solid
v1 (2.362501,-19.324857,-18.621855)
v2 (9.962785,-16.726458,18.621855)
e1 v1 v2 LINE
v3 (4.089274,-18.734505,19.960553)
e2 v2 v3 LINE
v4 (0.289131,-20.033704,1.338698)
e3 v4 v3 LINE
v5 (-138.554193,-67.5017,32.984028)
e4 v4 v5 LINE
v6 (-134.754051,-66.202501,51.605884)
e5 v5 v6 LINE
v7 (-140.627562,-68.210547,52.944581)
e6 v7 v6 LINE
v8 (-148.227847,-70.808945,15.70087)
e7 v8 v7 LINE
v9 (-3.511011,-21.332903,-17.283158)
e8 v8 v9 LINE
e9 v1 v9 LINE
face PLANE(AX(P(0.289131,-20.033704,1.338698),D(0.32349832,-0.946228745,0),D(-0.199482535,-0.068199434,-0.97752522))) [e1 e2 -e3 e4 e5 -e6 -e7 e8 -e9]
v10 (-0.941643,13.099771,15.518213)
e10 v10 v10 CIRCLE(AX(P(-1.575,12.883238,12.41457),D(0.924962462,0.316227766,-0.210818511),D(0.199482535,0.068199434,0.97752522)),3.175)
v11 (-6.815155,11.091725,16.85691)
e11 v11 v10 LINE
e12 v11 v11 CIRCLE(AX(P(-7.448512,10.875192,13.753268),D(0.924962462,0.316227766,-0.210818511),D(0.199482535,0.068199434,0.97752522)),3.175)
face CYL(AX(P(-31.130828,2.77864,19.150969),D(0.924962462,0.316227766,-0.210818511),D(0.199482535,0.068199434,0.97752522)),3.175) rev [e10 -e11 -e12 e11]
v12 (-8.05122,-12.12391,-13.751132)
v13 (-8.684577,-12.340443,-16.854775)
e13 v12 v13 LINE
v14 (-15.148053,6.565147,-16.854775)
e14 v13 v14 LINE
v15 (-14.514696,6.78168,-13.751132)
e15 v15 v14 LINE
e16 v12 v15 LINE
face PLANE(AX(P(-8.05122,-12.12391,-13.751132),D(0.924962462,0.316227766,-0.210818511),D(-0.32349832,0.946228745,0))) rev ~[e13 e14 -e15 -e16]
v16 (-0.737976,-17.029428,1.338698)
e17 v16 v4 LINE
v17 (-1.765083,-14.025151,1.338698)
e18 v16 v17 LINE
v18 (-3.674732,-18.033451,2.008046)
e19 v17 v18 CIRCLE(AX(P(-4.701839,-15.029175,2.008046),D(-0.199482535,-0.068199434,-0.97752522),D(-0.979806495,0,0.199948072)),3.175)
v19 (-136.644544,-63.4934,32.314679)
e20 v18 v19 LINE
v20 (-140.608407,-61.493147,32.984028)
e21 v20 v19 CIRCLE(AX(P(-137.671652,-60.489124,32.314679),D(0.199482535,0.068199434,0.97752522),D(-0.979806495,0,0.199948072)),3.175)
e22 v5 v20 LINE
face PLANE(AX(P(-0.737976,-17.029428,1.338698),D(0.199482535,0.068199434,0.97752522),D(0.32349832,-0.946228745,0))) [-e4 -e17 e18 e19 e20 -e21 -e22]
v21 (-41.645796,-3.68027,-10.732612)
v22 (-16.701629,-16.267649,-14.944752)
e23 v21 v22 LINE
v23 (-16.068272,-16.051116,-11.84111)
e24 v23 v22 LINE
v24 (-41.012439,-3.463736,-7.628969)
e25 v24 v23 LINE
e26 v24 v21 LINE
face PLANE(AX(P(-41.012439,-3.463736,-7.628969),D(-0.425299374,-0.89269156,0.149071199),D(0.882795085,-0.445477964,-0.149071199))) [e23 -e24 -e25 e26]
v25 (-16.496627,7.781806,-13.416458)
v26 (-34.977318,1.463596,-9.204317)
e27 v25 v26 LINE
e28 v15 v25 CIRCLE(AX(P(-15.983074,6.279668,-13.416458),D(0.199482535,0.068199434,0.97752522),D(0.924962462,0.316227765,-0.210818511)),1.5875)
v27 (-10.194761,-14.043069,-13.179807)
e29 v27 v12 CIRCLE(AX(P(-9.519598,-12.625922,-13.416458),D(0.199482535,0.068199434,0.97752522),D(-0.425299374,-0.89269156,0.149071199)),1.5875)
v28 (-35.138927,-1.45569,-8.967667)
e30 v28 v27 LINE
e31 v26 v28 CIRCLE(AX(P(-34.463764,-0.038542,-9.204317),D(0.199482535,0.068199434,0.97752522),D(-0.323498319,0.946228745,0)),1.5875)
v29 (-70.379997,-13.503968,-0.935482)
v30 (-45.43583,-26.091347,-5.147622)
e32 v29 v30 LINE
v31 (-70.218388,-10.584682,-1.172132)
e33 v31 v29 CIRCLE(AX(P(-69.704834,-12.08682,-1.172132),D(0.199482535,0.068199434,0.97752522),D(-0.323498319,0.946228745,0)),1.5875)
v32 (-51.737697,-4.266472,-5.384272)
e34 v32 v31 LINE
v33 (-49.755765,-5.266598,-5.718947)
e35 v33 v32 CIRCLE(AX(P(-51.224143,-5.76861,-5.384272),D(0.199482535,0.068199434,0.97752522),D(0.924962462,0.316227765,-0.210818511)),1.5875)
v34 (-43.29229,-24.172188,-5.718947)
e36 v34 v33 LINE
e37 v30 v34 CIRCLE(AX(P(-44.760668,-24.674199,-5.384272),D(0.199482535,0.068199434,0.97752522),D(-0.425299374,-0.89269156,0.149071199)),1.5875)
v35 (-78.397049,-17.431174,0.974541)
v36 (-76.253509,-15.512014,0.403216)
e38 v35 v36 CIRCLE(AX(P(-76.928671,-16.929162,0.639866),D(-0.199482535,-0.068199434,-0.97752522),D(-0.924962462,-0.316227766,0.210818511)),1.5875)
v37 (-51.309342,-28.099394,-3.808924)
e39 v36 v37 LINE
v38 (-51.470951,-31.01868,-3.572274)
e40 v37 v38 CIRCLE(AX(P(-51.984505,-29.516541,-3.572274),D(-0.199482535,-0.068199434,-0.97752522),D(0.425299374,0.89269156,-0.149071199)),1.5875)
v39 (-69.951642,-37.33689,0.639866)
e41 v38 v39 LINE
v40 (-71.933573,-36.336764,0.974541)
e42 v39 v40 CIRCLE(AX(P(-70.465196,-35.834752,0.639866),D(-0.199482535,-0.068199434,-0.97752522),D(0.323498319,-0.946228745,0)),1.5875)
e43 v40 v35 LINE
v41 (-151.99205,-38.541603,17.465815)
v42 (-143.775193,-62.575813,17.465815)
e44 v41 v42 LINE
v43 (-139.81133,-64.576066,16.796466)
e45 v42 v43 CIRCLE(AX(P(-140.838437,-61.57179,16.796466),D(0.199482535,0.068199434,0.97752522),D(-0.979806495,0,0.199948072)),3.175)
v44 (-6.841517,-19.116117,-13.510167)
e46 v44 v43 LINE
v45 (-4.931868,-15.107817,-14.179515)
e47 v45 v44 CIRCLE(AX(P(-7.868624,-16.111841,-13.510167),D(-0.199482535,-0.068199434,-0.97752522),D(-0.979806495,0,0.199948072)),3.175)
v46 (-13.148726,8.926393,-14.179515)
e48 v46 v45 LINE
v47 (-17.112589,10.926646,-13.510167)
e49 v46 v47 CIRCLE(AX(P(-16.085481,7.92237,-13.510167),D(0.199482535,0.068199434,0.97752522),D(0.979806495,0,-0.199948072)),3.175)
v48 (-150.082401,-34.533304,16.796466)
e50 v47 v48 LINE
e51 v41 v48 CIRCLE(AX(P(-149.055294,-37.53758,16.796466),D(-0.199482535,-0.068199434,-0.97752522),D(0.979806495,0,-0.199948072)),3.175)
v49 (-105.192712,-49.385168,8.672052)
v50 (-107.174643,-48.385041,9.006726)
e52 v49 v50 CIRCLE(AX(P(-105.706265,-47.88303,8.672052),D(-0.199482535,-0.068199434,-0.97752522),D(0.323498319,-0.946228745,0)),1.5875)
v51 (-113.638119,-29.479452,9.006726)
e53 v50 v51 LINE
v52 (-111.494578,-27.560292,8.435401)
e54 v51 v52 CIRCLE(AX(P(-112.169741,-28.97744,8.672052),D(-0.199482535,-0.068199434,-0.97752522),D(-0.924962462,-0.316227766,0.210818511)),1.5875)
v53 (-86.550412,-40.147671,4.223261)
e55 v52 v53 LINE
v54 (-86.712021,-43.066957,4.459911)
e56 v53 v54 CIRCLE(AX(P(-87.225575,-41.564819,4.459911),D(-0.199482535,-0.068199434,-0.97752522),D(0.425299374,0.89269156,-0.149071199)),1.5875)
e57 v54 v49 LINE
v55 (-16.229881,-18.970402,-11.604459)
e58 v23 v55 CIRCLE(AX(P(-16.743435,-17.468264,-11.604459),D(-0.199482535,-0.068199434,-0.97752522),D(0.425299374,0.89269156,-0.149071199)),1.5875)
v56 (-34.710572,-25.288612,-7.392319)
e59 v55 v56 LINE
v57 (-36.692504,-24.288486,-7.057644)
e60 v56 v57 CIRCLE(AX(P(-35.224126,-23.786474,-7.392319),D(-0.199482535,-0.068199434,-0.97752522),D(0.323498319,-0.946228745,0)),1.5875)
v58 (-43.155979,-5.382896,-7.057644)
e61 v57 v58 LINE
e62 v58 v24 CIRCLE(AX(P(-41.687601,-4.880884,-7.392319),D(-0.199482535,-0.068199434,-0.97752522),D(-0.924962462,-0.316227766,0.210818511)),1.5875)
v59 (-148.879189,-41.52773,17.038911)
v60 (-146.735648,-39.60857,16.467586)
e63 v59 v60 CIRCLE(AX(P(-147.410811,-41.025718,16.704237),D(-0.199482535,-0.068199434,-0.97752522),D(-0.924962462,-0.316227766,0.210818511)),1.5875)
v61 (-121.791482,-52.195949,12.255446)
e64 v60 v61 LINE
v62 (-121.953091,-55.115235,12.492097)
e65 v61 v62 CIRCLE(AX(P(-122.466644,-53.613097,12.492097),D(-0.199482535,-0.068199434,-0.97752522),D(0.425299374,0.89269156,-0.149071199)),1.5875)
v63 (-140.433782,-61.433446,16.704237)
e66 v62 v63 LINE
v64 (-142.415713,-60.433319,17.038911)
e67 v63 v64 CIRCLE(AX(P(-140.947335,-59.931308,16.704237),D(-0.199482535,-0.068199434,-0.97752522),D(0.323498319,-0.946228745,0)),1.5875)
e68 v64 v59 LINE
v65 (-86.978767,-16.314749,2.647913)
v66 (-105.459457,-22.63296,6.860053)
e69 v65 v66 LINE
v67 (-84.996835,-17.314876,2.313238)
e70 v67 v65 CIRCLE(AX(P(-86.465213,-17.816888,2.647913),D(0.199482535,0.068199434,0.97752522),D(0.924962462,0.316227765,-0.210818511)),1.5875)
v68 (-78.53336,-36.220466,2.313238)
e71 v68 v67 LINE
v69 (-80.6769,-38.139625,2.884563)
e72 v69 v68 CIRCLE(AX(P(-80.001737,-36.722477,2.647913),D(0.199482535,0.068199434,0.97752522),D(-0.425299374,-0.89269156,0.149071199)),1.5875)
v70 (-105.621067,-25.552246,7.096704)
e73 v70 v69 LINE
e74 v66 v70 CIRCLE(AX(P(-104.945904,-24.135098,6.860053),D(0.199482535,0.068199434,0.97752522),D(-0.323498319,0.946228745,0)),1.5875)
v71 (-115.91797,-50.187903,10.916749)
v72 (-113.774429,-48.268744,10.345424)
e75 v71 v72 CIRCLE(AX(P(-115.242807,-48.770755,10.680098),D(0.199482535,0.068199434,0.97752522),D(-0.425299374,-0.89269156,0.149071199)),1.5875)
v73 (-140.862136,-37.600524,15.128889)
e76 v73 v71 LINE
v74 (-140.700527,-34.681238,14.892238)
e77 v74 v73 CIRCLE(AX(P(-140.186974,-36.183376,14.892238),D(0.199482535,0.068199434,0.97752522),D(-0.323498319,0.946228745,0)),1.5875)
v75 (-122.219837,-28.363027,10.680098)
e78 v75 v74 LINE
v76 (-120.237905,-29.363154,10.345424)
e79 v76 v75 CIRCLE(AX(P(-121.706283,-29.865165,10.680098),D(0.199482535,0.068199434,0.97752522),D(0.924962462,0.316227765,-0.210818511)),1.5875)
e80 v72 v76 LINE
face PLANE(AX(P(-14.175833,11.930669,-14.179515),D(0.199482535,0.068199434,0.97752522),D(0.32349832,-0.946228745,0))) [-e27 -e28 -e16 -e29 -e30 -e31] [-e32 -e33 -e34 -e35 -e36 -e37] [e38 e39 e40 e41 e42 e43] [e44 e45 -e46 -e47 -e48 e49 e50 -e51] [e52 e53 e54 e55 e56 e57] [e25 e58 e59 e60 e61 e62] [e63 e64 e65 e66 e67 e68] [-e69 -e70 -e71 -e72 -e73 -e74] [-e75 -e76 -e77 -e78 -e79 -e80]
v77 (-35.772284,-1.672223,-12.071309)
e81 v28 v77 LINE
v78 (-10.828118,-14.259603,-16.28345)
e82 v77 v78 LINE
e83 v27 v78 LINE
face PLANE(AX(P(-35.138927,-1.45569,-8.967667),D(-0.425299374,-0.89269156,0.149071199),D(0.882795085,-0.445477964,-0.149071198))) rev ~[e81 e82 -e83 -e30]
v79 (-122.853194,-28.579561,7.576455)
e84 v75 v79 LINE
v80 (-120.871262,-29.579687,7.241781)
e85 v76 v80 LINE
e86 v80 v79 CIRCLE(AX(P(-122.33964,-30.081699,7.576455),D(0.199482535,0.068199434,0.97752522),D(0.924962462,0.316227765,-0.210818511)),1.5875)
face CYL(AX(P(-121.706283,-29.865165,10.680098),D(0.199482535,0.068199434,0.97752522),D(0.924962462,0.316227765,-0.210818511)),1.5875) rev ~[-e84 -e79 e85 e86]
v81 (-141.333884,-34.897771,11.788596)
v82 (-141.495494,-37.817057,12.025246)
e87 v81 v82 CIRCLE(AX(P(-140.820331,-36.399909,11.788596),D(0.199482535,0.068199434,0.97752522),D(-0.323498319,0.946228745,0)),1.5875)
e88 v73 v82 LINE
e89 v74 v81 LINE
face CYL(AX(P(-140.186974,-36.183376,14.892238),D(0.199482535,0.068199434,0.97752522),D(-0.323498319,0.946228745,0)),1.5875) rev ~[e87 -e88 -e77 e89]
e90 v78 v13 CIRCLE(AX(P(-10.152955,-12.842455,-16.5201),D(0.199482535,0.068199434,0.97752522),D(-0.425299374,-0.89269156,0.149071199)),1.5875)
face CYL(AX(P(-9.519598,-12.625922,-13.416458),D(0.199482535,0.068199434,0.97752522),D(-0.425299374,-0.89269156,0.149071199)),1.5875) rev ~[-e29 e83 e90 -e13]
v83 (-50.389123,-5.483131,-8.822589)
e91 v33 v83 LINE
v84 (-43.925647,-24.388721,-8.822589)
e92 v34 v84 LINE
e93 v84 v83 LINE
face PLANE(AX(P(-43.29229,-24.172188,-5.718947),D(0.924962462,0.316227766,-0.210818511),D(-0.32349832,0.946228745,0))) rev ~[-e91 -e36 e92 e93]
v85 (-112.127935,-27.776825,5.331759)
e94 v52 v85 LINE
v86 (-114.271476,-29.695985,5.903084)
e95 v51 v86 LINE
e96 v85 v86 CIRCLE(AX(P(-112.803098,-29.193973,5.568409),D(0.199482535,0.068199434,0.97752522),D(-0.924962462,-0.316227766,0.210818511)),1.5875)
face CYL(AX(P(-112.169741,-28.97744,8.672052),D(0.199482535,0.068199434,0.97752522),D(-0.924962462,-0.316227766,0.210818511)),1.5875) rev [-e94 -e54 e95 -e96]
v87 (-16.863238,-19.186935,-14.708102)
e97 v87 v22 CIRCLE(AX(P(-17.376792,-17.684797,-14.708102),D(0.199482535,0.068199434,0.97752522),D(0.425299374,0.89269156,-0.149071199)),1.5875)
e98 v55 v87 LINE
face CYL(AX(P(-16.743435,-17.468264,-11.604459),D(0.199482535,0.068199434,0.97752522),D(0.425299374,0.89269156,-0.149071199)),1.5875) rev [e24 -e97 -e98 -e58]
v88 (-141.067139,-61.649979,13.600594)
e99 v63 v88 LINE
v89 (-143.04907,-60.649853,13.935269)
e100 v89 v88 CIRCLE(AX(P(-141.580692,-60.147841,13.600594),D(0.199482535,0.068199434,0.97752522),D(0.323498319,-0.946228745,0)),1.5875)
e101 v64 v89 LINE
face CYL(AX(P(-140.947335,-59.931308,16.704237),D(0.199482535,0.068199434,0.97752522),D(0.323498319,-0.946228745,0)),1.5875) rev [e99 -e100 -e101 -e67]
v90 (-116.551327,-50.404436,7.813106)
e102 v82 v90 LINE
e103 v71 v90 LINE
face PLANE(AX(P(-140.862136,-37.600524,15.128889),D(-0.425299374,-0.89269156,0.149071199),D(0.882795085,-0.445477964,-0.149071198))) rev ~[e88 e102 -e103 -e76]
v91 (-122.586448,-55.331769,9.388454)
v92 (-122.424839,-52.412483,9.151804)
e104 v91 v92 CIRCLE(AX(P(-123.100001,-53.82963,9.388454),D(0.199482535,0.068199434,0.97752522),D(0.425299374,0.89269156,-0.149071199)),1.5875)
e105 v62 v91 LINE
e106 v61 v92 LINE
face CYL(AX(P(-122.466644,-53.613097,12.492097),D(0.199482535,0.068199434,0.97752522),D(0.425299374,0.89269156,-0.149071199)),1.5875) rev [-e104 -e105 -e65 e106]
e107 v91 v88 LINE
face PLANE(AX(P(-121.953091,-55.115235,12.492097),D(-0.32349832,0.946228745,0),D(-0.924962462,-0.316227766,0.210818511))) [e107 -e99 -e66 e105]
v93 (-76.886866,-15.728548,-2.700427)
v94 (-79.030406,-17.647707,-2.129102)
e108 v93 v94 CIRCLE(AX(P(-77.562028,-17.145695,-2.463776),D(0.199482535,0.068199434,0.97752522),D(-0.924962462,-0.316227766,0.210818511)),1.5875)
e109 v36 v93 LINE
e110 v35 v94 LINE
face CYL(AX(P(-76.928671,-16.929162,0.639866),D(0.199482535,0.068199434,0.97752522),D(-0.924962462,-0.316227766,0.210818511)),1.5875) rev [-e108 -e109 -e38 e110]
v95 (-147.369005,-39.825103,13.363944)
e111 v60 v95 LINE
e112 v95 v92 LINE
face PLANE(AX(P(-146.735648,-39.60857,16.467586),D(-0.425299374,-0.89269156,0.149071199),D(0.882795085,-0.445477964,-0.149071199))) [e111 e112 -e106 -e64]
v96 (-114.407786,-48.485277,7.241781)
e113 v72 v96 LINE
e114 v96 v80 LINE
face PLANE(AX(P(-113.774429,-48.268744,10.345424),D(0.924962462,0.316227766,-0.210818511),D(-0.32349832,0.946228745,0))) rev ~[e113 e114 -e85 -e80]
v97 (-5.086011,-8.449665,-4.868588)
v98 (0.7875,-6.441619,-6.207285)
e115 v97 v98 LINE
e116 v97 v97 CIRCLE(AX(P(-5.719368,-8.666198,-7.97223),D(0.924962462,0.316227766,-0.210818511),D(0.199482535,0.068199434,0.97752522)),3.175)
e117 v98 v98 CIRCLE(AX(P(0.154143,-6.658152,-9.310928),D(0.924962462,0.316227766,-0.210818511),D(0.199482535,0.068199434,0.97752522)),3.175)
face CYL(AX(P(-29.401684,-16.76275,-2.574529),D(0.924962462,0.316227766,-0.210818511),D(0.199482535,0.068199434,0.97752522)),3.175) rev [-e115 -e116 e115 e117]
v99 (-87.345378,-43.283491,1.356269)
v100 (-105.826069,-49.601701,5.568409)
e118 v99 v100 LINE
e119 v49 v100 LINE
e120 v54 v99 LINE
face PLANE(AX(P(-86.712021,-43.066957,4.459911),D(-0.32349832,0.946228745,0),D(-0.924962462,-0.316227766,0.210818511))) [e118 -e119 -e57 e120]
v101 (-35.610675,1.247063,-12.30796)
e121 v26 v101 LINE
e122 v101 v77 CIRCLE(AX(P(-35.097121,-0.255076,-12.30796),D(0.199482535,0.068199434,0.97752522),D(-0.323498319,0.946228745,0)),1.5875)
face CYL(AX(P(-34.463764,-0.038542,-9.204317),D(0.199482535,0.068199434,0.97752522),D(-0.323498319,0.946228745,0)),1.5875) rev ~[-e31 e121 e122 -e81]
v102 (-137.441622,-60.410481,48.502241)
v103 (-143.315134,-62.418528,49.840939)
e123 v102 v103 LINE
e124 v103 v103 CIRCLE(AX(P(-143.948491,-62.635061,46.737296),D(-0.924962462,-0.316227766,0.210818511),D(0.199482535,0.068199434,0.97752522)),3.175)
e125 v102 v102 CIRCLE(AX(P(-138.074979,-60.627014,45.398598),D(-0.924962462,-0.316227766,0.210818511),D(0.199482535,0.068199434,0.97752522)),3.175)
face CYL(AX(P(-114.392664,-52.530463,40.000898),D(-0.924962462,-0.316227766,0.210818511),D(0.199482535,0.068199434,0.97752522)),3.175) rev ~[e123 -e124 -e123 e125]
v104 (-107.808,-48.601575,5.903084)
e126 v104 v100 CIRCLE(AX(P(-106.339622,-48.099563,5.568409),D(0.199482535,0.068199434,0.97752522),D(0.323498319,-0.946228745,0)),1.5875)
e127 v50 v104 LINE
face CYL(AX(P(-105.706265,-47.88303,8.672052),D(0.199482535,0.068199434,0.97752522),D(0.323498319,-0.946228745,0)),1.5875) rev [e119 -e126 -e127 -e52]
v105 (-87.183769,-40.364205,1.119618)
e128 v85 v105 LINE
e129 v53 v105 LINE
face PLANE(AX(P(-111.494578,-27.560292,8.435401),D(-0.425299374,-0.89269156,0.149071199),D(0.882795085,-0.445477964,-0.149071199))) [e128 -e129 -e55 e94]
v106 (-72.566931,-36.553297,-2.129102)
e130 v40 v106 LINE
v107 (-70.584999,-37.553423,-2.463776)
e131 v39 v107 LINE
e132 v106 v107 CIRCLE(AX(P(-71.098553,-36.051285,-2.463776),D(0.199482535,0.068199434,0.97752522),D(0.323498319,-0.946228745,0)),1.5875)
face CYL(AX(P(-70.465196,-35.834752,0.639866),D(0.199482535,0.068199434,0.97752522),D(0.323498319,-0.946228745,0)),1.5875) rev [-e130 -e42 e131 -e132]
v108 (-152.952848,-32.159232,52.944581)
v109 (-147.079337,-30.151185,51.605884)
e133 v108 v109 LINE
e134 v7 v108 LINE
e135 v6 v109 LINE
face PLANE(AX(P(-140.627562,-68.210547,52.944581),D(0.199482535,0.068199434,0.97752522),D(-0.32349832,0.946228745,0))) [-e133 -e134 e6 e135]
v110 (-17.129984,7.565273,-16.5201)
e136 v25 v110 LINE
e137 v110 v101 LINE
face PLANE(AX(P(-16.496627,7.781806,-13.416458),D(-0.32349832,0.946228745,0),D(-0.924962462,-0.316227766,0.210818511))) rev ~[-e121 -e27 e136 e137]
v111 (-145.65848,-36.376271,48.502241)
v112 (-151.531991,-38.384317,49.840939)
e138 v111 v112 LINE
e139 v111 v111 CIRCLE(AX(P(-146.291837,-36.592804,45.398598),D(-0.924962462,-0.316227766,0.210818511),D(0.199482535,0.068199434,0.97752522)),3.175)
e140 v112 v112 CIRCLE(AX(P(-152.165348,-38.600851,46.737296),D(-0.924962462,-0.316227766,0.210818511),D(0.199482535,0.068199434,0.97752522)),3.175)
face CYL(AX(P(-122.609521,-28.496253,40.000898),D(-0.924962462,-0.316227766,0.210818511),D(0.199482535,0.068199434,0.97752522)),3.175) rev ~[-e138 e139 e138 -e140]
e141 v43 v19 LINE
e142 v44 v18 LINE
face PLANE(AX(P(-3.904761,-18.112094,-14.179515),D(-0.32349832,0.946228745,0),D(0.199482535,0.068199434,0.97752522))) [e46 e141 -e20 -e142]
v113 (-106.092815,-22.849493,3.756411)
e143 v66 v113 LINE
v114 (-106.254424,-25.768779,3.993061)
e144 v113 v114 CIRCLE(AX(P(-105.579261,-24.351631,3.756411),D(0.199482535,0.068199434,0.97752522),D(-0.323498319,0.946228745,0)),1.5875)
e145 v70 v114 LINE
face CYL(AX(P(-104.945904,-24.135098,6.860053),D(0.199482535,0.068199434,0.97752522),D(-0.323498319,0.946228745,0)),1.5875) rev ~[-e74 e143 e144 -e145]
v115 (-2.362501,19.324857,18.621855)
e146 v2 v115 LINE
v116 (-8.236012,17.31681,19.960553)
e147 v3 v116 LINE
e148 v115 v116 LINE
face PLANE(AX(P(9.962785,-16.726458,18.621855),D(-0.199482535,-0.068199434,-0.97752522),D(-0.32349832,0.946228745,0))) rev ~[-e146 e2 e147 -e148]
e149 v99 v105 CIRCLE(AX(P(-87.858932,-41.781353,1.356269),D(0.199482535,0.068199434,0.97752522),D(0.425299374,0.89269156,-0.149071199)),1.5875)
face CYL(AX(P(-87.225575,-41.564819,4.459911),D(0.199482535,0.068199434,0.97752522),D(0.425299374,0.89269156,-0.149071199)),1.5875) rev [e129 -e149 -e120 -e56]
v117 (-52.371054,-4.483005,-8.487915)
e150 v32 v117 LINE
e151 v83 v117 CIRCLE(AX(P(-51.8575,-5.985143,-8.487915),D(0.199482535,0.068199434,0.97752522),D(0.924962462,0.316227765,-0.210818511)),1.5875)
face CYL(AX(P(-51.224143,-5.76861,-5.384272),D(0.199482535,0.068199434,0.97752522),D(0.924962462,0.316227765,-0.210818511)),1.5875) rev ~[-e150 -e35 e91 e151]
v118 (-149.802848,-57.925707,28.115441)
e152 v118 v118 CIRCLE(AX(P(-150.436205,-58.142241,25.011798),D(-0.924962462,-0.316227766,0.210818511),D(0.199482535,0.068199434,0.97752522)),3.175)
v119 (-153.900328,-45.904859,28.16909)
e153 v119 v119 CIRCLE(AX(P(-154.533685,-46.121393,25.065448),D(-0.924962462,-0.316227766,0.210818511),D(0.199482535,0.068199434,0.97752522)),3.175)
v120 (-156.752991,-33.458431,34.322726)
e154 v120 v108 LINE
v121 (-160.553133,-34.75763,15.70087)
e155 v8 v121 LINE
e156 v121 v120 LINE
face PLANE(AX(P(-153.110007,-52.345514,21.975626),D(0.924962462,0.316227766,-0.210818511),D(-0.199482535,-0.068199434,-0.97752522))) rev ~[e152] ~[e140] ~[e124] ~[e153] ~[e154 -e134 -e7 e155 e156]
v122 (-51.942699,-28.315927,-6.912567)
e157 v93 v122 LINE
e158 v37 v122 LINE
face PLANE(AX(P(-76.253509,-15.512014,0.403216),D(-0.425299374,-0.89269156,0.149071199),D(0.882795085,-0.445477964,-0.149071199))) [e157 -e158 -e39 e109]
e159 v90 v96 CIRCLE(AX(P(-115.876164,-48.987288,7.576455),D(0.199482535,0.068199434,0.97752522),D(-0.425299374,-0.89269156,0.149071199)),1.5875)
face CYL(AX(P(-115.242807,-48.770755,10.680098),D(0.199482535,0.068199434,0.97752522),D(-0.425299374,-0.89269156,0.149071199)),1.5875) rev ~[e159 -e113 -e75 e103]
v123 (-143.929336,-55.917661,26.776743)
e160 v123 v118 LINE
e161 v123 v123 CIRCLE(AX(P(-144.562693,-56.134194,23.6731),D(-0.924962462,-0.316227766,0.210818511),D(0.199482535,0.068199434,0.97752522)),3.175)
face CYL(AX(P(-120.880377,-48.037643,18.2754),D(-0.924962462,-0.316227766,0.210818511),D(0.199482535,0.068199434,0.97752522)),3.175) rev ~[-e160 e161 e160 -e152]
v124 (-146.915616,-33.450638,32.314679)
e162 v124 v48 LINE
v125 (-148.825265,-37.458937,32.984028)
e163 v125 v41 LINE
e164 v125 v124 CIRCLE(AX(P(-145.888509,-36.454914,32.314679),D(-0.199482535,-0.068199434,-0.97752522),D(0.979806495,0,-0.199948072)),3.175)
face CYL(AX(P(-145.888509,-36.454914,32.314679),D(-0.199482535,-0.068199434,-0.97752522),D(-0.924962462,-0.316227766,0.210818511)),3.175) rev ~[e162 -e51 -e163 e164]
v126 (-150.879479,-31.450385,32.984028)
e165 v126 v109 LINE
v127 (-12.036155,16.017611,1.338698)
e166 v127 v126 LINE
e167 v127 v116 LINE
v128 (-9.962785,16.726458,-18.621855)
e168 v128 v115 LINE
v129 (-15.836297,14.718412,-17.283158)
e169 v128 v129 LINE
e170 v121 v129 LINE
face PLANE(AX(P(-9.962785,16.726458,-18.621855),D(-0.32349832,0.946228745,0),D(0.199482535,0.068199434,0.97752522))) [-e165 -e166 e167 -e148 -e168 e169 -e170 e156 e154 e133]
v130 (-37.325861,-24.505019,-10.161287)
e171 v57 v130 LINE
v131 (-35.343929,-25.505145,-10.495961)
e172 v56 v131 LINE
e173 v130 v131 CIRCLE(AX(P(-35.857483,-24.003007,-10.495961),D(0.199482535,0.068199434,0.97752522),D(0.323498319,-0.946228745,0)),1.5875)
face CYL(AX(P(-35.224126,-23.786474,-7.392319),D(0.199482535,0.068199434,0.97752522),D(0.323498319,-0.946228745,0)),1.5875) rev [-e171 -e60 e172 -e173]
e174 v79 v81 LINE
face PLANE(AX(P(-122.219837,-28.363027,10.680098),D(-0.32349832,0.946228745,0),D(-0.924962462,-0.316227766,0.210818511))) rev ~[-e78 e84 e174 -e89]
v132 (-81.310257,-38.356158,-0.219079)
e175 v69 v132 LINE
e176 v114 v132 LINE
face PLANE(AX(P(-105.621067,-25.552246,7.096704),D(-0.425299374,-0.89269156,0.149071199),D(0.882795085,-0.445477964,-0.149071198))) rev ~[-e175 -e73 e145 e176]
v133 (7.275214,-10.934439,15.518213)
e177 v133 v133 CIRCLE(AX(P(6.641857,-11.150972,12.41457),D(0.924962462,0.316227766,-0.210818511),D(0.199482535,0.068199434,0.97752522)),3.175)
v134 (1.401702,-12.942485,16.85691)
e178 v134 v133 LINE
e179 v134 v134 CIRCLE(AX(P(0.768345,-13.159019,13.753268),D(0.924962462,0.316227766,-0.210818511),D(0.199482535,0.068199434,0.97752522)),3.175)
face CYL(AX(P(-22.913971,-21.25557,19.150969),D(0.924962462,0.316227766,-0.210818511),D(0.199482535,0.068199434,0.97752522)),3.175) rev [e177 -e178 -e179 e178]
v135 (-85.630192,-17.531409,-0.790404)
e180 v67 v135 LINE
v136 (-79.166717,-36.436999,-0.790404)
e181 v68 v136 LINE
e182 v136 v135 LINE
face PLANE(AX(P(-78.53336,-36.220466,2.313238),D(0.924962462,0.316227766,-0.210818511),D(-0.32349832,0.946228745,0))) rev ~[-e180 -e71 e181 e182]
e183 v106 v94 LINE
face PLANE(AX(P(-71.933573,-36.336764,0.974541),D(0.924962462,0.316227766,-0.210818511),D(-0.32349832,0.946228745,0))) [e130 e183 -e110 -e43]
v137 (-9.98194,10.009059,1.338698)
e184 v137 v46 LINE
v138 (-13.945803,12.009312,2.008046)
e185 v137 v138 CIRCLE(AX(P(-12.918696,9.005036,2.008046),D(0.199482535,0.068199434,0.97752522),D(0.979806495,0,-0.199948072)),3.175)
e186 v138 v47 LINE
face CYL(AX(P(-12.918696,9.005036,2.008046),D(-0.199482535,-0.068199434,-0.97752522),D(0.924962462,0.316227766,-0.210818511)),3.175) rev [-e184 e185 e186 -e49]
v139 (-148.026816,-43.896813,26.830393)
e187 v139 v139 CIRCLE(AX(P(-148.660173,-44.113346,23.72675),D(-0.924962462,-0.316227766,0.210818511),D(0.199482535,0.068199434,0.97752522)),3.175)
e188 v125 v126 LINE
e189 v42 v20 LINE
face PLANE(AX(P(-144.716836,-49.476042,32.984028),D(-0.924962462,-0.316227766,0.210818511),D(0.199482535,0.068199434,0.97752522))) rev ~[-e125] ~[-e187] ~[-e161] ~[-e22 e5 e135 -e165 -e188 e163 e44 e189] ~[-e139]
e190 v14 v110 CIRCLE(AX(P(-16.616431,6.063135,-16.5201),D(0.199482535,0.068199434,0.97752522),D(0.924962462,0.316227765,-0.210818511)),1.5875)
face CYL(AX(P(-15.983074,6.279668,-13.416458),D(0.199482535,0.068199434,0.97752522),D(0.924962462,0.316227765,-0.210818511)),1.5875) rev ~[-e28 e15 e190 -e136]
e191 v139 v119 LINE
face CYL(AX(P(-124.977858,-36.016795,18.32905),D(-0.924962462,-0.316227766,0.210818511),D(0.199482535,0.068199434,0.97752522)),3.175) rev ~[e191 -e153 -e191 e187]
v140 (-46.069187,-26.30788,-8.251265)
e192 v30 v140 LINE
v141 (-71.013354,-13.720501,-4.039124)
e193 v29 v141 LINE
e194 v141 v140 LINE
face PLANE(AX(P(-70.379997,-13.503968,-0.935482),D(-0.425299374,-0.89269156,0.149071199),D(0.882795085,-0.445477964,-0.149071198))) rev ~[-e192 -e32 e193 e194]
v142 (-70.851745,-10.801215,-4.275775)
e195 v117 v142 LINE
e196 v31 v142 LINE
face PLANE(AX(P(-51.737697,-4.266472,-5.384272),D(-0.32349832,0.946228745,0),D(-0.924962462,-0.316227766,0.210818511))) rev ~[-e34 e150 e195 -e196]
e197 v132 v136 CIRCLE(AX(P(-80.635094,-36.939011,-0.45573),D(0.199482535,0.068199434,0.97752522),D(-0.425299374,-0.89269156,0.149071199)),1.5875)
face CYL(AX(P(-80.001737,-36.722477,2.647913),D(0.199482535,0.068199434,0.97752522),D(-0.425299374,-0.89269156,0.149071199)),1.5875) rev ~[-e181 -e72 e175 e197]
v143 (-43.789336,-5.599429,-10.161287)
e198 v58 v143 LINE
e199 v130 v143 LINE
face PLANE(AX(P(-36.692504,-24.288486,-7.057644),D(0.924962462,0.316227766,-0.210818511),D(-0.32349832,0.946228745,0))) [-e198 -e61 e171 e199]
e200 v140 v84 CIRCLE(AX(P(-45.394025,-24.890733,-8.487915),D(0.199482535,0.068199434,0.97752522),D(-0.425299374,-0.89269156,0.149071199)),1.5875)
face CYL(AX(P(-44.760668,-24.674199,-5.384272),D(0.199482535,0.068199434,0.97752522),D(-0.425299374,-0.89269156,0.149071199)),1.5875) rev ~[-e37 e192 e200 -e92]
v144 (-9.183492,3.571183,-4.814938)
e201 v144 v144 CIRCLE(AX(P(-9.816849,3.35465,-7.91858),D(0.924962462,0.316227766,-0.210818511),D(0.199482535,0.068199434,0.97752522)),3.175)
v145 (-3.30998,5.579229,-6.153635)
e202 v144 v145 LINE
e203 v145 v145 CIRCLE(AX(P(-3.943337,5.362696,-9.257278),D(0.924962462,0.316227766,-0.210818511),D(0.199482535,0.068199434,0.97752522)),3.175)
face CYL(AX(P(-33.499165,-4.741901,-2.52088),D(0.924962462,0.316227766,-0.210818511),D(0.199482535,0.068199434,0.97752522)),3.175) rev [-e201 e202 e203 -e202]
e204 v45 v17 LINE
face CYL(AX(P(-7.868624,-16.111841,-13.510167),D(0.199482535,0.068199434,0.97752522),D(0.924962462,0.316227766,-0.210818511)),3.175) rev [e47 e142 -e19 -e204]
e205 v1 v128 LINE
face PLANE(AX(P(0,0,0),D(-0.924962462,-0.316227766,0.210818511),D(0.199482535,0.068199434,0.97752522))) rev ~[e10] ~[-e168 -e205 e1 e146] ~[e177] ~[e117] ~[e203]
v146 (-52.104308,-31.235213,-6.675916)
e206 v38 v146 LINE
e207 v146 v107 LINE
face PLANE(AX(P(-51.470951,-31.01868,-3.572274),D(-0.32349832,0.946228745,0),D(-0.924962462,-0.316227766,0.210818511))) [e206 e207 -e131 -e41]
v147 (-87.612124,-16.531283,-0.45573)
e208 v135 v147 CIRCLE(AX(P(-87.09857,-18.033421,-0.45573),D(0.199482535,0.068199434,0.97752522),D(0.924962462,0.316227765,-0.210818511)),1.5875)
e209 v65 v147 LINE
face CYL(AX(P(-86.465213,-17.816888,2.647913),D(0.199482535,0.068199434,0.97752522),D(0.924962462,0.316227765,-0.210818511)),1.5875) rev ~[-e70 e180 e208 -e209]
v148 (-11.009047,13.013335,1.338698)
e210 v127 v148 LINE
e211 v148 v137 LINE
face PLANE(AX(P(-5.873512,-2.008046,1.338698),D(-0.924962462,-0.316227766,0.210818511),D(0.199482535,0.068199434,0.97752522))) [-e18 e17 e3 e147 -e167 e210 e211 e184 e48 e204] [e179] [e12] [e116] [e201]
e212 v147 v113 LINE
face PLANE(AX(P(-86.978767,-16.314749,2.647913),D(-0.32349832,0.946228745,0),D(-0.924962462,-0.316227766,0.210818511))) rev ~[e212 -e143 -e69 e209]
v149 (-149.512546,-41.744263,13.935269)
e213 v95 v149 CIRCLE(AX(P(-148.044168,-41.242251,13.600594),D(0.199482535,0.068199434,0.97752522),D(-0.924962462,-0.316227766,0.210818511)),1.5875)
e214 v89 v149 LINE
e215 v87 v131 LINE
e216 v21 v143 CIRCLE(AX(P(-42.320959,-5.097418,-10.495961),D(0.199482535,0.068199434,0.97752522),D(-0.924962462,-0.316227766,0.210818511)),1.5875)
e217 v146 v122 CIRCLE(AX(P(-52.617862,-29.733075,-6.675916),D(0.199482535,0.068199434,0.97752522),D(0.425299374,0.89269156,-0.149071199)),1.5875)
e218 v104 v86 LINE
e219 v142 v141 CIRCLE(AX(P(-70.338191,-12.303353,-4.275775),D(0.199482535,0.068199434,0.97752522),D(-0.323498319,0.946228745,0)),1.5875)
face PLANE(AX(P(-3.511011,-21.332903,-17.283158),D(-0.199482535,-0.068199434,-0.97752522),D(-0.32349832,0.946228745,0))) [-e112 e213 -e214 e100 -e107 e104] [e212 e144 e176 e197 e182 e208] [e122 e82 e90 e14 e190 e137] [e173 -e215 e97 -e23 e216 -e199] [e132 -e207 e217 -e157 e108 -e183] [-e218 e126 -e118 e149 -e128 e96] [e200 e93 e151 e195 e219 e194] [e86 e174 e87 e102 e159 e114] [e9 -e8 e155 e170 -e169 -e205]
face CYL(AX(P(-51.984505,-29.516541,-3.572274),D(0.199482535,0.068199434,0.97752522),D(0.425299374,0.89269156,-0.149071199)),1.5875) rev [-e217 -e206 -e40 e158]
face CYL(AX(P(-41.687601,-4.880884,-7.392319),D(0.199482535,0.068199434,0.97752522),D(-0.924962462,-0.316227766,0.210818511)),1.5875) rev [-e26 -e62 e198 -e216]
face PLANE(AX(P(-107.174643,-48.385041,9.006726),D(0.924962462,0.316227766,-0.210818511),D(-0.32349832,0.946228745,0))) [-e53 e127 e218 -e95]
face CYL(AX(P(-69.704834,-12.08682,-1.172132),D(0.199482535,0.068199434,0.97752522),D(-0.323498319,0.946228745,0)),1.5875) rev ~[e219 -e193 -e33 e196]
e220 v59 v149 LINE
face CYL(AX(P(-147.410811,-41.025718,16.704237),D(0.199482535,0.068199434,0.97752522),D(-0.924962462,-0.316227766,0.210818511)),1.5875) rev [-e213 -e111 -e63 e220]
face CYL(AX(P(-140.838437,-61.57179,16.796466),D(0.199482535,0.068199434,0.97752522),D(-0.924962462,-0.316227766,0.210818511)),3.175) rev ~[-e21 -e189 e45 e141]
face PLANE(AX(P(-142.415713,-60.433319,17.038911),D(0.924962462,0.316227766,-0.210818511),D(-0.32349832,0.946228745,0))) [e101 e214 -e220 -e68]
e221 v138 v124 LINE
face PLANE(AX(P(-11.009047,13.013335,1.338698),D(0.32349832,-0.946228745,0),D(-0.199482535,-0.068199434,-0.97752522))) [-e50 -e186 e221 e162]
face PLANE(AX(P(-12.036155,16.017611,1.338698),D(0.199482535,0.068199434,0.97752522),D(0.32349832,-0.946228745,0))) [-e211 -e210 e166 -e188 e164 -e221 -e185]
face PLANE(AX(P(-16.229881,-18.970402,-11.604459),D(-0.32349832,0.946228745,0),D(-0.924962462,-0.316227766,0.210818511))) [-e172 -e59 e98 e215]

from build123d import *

# Parameters (mm, degrees)
SKETCH2_W                       = 38.1
SKETCH2_H                       = 38.1
BOSS_EXTRUDE1_DEPTH             = 6.35
BOSS_EXTRUDE2_DEPTH             = 156.456983
SKETCH4_W                       = 38.1
SKETCH4_H                       = 38.1
BOSS_EXTRUDE3_DEPTH             = 6.35
FILLET1_R                       = 3.175
F_1_4_0_25_DIAMETER_HOLE1_D     = 6.35
F_1_4_0_25_DIAMETER_HOLE1_DEPTH = 25.603542527
CUT_EXTRUDE1_REACH              = 187.255
LPATTERN1_COUNT                 = 4
LPATTERN1_PITCH                 = 38.1


with BuildPart() as part:
    # Sketch2 → Boss-Extrude1 (new body)
    with BuildSketch(Plane(origin=(0, 0, 0), x_dir=(0.1994825347085473, 0.06819943394704729, 0.9775252199076787), z_dir=(-0.924962461700774, -0.31622776601683794, 0.21081851067789195))):
        Rectangle(SKETCH2_W, SKETCH2_H)
    extrude(amount=BOSS_EXTRUDE1_DEPTH)

    # Sketch3 → Boss-Extrude2 (add)
    with BuildSketch(Plane(origin=(-5.873511632, -2.008046314, 1.338697543), x_dir=(0.19948253470854727, 0.06819943394704733, 0.9775252199076787), z_dir=(-0.9249624617007739, -0.316227766016838, 0.21081851067789192))):
        Polygon((-15.875, -15.875), (0, -15.875), (0, -19.05), (-19.05, -19.05), (-19.05, 19.05), (0, 19.05), (0, 15.875), (-15.875, 15.875), align=None)
    extrude(amount=BOSS_EXTRUDE2_DEPTH)

    # Sketch4 → Boss-Extrude3 (add)
    with BuildSketch(Plane(origin=(-150.590347718, -51.484088506, 34.32272567), x_dir=(0.19948253470854724, 0.06819943394704728, 0.9775252199076787), z_dir=(-0.924962461700774, -0.31622776601683794, 0.2108185106778919))):
        Rectangle(SKETCH4_W, SKETCH4_H)
    extrude(amount=-BOSS_EXTRUDE3_DEPTH)

    # Fillet1
    fillet1_edges = [part.edges().sort_by_distance(p)[0] for p in [
        (-2.321368427, -17.570760643, -6.42040889),
        (-12.592440075, 12.472002, -6.42040889),
        (-141.164692882, -65.03875652, 25.224921695),
        (-151.435764529, -34.995993877, 25.224921695),
    ]]
    fillet(fillet1_edges, radius=FILLET1_R)

    # 1/4 (0.25) Diameter Hole1
    with Locations(Plane(origin=(-144.716836086, -49.476042191, 32.984028128), x_dir=(-0.19948253470854763, -0.06819943394704747, -0.9775252199076786), z_dir=(0.924962461700774, 0.3162277660168374, -0.2108185106778923))):
        with Locations((9.525, -6.35), (-12.7, -12.7), (-12.7, 12.7), (9.47011661, 6.35)):
            f_1_4_0_25_diameter_hole1 = Hole(F_1_4_0_25_DIAMETER_HOLE1_D / 2, depth=F_1_4_0_25_DIAMETER_HOLE1_DEPTH)

    # Mirror1: 1/4 (0.25) Diameter Hole1 across plane
    add(f_1_4_0_25_diameter_hole1.mirror(Plane(origin=(-75.295173859, -25.742044253, 17.161362835), x_dir=(0.19948253470854732, 0.06819943394704736, 0.9775252199076787), z_dir=(0.924962461700774, 0.316227766016838, -0.21081851067789195))), mode=Mode.SUBTRACT)

    # Sketch9 → Cut-Extrude1 (cut, up to next)
    with BuildSketch(Plane(origin=(-3.166785238, -1.082666014, -15.518212866), x_dir=(0.9799013819493537, -0.013883637884437966, -0.19899880967694392), z_dir=(0.19948253470854727, 0.06819943394704746, 0.9775252199076788)), mode=Mode.PRIVATE) as cut_extrude1_sk1:
        with BuildLine():
            Line((-4.984618665, -11.137455788), (-11.58066581, 7.722289794))
            ThreePointArc((-11.58066581, 7.722289794), (-12.390150485, 8.628384663), (-13.603248415, 8.696698385))
            Line((-13.603248415, 8.696698385), (-32.462993997, 2.100651241))
            ThreePointArc((-32.462993997, 2.100651241), (-33.523895818, 0.691411823), (-32.627917913, -0.828026233))
            Line((-32.627917913, -0.828026233), (-7.172125187, -13.091724671))
            ThreePointArc((-7.172125187, -13.091724671), (-5.425471566, -12.845412794), (-4.984618665, -11.137455788))
        make_face()
    cut_extrude1_tool1 = extrude(cut_extrude1_sk1.sketch, amount=-CUT_EXTRUDE1_REACH, mode=Mode.PRIVATE) & part.part
    # Sketch9 → Cut-Extrude1 (cut, up to next)
    with BuildSketch(Plane(origin=(-3.166785238, -1.082666014, -15.518212866), x_dir=(0.9799013819493537, -0.013883637884437966, -0.19899880967694392), z_dir=(0.19948253470854727, 0.06819943394704746, 0.9775252199076788)), mode=Mode.PRIVATE) as cut_extrude1_sk2:
        with BuildLine():
            Line((-38.621900308, -2.924374261), (-13.166107581, -15.188072699))
            ThreePointArc((-13.166107581, -15.188072699), (-12.270129676, -16.707510755), (-13.331031497, -18.116750174))
            Line((-13.331031497, -18.116750174), (-32.190777079, -24.712797318))
            ThreePointArc((-32.190777079, -24.712797318), (-33.403875009, -24.644483595), (-34.213359685, -23.738388726))
            Line((-34.213359685, -23.738388726), (-40.809406829, -4.878643144))
            ThreePointArc((-40.809406829, -4.878643144), (-40.368553929, -3.170686139), (-38.621900308, -2.924374261))
        make_face()
    cut_extrude1_tool2 = extrude(cut_extrude1_sk2.sketch, amount=-CUT_EXTRUDE1_REACH, mode=Mode.PRIVATE) & part.part
    cut_extrude1_1 = cut_extrude1_tool1.solids().sort_by_distance((-20.084687, -2.329504, -11.978806))[0]
    add(cut_extrude1_1, mode=Mode.SUBTRACT)
    cut_extrude1_2 = cut_extrude1_tool2.solids().sort_by_distance((-31.122512, -15.177301, -8.829971))[0]
    add(cut_extrude1_2, mode=Mode.SUBTRACT)
    cut_extrude1 = cut_extrude1_1 + cut_extrude1_2  # Cut-Extrude1 as one shape, for the pattern or mirror that repeats it

    # LPattern1: Cut-Extrude1 ×4
    with Locations(*[Vector(-0.924962461700774, -0.3162277660168377, 0.210818510677892) * (i * LPATTERN1_PITCH) for i in range(1, LPATTERN1_COUNT)]):
        add(cut_extrude1, mode=Mode.SUBTRACT)


solid = part.part
